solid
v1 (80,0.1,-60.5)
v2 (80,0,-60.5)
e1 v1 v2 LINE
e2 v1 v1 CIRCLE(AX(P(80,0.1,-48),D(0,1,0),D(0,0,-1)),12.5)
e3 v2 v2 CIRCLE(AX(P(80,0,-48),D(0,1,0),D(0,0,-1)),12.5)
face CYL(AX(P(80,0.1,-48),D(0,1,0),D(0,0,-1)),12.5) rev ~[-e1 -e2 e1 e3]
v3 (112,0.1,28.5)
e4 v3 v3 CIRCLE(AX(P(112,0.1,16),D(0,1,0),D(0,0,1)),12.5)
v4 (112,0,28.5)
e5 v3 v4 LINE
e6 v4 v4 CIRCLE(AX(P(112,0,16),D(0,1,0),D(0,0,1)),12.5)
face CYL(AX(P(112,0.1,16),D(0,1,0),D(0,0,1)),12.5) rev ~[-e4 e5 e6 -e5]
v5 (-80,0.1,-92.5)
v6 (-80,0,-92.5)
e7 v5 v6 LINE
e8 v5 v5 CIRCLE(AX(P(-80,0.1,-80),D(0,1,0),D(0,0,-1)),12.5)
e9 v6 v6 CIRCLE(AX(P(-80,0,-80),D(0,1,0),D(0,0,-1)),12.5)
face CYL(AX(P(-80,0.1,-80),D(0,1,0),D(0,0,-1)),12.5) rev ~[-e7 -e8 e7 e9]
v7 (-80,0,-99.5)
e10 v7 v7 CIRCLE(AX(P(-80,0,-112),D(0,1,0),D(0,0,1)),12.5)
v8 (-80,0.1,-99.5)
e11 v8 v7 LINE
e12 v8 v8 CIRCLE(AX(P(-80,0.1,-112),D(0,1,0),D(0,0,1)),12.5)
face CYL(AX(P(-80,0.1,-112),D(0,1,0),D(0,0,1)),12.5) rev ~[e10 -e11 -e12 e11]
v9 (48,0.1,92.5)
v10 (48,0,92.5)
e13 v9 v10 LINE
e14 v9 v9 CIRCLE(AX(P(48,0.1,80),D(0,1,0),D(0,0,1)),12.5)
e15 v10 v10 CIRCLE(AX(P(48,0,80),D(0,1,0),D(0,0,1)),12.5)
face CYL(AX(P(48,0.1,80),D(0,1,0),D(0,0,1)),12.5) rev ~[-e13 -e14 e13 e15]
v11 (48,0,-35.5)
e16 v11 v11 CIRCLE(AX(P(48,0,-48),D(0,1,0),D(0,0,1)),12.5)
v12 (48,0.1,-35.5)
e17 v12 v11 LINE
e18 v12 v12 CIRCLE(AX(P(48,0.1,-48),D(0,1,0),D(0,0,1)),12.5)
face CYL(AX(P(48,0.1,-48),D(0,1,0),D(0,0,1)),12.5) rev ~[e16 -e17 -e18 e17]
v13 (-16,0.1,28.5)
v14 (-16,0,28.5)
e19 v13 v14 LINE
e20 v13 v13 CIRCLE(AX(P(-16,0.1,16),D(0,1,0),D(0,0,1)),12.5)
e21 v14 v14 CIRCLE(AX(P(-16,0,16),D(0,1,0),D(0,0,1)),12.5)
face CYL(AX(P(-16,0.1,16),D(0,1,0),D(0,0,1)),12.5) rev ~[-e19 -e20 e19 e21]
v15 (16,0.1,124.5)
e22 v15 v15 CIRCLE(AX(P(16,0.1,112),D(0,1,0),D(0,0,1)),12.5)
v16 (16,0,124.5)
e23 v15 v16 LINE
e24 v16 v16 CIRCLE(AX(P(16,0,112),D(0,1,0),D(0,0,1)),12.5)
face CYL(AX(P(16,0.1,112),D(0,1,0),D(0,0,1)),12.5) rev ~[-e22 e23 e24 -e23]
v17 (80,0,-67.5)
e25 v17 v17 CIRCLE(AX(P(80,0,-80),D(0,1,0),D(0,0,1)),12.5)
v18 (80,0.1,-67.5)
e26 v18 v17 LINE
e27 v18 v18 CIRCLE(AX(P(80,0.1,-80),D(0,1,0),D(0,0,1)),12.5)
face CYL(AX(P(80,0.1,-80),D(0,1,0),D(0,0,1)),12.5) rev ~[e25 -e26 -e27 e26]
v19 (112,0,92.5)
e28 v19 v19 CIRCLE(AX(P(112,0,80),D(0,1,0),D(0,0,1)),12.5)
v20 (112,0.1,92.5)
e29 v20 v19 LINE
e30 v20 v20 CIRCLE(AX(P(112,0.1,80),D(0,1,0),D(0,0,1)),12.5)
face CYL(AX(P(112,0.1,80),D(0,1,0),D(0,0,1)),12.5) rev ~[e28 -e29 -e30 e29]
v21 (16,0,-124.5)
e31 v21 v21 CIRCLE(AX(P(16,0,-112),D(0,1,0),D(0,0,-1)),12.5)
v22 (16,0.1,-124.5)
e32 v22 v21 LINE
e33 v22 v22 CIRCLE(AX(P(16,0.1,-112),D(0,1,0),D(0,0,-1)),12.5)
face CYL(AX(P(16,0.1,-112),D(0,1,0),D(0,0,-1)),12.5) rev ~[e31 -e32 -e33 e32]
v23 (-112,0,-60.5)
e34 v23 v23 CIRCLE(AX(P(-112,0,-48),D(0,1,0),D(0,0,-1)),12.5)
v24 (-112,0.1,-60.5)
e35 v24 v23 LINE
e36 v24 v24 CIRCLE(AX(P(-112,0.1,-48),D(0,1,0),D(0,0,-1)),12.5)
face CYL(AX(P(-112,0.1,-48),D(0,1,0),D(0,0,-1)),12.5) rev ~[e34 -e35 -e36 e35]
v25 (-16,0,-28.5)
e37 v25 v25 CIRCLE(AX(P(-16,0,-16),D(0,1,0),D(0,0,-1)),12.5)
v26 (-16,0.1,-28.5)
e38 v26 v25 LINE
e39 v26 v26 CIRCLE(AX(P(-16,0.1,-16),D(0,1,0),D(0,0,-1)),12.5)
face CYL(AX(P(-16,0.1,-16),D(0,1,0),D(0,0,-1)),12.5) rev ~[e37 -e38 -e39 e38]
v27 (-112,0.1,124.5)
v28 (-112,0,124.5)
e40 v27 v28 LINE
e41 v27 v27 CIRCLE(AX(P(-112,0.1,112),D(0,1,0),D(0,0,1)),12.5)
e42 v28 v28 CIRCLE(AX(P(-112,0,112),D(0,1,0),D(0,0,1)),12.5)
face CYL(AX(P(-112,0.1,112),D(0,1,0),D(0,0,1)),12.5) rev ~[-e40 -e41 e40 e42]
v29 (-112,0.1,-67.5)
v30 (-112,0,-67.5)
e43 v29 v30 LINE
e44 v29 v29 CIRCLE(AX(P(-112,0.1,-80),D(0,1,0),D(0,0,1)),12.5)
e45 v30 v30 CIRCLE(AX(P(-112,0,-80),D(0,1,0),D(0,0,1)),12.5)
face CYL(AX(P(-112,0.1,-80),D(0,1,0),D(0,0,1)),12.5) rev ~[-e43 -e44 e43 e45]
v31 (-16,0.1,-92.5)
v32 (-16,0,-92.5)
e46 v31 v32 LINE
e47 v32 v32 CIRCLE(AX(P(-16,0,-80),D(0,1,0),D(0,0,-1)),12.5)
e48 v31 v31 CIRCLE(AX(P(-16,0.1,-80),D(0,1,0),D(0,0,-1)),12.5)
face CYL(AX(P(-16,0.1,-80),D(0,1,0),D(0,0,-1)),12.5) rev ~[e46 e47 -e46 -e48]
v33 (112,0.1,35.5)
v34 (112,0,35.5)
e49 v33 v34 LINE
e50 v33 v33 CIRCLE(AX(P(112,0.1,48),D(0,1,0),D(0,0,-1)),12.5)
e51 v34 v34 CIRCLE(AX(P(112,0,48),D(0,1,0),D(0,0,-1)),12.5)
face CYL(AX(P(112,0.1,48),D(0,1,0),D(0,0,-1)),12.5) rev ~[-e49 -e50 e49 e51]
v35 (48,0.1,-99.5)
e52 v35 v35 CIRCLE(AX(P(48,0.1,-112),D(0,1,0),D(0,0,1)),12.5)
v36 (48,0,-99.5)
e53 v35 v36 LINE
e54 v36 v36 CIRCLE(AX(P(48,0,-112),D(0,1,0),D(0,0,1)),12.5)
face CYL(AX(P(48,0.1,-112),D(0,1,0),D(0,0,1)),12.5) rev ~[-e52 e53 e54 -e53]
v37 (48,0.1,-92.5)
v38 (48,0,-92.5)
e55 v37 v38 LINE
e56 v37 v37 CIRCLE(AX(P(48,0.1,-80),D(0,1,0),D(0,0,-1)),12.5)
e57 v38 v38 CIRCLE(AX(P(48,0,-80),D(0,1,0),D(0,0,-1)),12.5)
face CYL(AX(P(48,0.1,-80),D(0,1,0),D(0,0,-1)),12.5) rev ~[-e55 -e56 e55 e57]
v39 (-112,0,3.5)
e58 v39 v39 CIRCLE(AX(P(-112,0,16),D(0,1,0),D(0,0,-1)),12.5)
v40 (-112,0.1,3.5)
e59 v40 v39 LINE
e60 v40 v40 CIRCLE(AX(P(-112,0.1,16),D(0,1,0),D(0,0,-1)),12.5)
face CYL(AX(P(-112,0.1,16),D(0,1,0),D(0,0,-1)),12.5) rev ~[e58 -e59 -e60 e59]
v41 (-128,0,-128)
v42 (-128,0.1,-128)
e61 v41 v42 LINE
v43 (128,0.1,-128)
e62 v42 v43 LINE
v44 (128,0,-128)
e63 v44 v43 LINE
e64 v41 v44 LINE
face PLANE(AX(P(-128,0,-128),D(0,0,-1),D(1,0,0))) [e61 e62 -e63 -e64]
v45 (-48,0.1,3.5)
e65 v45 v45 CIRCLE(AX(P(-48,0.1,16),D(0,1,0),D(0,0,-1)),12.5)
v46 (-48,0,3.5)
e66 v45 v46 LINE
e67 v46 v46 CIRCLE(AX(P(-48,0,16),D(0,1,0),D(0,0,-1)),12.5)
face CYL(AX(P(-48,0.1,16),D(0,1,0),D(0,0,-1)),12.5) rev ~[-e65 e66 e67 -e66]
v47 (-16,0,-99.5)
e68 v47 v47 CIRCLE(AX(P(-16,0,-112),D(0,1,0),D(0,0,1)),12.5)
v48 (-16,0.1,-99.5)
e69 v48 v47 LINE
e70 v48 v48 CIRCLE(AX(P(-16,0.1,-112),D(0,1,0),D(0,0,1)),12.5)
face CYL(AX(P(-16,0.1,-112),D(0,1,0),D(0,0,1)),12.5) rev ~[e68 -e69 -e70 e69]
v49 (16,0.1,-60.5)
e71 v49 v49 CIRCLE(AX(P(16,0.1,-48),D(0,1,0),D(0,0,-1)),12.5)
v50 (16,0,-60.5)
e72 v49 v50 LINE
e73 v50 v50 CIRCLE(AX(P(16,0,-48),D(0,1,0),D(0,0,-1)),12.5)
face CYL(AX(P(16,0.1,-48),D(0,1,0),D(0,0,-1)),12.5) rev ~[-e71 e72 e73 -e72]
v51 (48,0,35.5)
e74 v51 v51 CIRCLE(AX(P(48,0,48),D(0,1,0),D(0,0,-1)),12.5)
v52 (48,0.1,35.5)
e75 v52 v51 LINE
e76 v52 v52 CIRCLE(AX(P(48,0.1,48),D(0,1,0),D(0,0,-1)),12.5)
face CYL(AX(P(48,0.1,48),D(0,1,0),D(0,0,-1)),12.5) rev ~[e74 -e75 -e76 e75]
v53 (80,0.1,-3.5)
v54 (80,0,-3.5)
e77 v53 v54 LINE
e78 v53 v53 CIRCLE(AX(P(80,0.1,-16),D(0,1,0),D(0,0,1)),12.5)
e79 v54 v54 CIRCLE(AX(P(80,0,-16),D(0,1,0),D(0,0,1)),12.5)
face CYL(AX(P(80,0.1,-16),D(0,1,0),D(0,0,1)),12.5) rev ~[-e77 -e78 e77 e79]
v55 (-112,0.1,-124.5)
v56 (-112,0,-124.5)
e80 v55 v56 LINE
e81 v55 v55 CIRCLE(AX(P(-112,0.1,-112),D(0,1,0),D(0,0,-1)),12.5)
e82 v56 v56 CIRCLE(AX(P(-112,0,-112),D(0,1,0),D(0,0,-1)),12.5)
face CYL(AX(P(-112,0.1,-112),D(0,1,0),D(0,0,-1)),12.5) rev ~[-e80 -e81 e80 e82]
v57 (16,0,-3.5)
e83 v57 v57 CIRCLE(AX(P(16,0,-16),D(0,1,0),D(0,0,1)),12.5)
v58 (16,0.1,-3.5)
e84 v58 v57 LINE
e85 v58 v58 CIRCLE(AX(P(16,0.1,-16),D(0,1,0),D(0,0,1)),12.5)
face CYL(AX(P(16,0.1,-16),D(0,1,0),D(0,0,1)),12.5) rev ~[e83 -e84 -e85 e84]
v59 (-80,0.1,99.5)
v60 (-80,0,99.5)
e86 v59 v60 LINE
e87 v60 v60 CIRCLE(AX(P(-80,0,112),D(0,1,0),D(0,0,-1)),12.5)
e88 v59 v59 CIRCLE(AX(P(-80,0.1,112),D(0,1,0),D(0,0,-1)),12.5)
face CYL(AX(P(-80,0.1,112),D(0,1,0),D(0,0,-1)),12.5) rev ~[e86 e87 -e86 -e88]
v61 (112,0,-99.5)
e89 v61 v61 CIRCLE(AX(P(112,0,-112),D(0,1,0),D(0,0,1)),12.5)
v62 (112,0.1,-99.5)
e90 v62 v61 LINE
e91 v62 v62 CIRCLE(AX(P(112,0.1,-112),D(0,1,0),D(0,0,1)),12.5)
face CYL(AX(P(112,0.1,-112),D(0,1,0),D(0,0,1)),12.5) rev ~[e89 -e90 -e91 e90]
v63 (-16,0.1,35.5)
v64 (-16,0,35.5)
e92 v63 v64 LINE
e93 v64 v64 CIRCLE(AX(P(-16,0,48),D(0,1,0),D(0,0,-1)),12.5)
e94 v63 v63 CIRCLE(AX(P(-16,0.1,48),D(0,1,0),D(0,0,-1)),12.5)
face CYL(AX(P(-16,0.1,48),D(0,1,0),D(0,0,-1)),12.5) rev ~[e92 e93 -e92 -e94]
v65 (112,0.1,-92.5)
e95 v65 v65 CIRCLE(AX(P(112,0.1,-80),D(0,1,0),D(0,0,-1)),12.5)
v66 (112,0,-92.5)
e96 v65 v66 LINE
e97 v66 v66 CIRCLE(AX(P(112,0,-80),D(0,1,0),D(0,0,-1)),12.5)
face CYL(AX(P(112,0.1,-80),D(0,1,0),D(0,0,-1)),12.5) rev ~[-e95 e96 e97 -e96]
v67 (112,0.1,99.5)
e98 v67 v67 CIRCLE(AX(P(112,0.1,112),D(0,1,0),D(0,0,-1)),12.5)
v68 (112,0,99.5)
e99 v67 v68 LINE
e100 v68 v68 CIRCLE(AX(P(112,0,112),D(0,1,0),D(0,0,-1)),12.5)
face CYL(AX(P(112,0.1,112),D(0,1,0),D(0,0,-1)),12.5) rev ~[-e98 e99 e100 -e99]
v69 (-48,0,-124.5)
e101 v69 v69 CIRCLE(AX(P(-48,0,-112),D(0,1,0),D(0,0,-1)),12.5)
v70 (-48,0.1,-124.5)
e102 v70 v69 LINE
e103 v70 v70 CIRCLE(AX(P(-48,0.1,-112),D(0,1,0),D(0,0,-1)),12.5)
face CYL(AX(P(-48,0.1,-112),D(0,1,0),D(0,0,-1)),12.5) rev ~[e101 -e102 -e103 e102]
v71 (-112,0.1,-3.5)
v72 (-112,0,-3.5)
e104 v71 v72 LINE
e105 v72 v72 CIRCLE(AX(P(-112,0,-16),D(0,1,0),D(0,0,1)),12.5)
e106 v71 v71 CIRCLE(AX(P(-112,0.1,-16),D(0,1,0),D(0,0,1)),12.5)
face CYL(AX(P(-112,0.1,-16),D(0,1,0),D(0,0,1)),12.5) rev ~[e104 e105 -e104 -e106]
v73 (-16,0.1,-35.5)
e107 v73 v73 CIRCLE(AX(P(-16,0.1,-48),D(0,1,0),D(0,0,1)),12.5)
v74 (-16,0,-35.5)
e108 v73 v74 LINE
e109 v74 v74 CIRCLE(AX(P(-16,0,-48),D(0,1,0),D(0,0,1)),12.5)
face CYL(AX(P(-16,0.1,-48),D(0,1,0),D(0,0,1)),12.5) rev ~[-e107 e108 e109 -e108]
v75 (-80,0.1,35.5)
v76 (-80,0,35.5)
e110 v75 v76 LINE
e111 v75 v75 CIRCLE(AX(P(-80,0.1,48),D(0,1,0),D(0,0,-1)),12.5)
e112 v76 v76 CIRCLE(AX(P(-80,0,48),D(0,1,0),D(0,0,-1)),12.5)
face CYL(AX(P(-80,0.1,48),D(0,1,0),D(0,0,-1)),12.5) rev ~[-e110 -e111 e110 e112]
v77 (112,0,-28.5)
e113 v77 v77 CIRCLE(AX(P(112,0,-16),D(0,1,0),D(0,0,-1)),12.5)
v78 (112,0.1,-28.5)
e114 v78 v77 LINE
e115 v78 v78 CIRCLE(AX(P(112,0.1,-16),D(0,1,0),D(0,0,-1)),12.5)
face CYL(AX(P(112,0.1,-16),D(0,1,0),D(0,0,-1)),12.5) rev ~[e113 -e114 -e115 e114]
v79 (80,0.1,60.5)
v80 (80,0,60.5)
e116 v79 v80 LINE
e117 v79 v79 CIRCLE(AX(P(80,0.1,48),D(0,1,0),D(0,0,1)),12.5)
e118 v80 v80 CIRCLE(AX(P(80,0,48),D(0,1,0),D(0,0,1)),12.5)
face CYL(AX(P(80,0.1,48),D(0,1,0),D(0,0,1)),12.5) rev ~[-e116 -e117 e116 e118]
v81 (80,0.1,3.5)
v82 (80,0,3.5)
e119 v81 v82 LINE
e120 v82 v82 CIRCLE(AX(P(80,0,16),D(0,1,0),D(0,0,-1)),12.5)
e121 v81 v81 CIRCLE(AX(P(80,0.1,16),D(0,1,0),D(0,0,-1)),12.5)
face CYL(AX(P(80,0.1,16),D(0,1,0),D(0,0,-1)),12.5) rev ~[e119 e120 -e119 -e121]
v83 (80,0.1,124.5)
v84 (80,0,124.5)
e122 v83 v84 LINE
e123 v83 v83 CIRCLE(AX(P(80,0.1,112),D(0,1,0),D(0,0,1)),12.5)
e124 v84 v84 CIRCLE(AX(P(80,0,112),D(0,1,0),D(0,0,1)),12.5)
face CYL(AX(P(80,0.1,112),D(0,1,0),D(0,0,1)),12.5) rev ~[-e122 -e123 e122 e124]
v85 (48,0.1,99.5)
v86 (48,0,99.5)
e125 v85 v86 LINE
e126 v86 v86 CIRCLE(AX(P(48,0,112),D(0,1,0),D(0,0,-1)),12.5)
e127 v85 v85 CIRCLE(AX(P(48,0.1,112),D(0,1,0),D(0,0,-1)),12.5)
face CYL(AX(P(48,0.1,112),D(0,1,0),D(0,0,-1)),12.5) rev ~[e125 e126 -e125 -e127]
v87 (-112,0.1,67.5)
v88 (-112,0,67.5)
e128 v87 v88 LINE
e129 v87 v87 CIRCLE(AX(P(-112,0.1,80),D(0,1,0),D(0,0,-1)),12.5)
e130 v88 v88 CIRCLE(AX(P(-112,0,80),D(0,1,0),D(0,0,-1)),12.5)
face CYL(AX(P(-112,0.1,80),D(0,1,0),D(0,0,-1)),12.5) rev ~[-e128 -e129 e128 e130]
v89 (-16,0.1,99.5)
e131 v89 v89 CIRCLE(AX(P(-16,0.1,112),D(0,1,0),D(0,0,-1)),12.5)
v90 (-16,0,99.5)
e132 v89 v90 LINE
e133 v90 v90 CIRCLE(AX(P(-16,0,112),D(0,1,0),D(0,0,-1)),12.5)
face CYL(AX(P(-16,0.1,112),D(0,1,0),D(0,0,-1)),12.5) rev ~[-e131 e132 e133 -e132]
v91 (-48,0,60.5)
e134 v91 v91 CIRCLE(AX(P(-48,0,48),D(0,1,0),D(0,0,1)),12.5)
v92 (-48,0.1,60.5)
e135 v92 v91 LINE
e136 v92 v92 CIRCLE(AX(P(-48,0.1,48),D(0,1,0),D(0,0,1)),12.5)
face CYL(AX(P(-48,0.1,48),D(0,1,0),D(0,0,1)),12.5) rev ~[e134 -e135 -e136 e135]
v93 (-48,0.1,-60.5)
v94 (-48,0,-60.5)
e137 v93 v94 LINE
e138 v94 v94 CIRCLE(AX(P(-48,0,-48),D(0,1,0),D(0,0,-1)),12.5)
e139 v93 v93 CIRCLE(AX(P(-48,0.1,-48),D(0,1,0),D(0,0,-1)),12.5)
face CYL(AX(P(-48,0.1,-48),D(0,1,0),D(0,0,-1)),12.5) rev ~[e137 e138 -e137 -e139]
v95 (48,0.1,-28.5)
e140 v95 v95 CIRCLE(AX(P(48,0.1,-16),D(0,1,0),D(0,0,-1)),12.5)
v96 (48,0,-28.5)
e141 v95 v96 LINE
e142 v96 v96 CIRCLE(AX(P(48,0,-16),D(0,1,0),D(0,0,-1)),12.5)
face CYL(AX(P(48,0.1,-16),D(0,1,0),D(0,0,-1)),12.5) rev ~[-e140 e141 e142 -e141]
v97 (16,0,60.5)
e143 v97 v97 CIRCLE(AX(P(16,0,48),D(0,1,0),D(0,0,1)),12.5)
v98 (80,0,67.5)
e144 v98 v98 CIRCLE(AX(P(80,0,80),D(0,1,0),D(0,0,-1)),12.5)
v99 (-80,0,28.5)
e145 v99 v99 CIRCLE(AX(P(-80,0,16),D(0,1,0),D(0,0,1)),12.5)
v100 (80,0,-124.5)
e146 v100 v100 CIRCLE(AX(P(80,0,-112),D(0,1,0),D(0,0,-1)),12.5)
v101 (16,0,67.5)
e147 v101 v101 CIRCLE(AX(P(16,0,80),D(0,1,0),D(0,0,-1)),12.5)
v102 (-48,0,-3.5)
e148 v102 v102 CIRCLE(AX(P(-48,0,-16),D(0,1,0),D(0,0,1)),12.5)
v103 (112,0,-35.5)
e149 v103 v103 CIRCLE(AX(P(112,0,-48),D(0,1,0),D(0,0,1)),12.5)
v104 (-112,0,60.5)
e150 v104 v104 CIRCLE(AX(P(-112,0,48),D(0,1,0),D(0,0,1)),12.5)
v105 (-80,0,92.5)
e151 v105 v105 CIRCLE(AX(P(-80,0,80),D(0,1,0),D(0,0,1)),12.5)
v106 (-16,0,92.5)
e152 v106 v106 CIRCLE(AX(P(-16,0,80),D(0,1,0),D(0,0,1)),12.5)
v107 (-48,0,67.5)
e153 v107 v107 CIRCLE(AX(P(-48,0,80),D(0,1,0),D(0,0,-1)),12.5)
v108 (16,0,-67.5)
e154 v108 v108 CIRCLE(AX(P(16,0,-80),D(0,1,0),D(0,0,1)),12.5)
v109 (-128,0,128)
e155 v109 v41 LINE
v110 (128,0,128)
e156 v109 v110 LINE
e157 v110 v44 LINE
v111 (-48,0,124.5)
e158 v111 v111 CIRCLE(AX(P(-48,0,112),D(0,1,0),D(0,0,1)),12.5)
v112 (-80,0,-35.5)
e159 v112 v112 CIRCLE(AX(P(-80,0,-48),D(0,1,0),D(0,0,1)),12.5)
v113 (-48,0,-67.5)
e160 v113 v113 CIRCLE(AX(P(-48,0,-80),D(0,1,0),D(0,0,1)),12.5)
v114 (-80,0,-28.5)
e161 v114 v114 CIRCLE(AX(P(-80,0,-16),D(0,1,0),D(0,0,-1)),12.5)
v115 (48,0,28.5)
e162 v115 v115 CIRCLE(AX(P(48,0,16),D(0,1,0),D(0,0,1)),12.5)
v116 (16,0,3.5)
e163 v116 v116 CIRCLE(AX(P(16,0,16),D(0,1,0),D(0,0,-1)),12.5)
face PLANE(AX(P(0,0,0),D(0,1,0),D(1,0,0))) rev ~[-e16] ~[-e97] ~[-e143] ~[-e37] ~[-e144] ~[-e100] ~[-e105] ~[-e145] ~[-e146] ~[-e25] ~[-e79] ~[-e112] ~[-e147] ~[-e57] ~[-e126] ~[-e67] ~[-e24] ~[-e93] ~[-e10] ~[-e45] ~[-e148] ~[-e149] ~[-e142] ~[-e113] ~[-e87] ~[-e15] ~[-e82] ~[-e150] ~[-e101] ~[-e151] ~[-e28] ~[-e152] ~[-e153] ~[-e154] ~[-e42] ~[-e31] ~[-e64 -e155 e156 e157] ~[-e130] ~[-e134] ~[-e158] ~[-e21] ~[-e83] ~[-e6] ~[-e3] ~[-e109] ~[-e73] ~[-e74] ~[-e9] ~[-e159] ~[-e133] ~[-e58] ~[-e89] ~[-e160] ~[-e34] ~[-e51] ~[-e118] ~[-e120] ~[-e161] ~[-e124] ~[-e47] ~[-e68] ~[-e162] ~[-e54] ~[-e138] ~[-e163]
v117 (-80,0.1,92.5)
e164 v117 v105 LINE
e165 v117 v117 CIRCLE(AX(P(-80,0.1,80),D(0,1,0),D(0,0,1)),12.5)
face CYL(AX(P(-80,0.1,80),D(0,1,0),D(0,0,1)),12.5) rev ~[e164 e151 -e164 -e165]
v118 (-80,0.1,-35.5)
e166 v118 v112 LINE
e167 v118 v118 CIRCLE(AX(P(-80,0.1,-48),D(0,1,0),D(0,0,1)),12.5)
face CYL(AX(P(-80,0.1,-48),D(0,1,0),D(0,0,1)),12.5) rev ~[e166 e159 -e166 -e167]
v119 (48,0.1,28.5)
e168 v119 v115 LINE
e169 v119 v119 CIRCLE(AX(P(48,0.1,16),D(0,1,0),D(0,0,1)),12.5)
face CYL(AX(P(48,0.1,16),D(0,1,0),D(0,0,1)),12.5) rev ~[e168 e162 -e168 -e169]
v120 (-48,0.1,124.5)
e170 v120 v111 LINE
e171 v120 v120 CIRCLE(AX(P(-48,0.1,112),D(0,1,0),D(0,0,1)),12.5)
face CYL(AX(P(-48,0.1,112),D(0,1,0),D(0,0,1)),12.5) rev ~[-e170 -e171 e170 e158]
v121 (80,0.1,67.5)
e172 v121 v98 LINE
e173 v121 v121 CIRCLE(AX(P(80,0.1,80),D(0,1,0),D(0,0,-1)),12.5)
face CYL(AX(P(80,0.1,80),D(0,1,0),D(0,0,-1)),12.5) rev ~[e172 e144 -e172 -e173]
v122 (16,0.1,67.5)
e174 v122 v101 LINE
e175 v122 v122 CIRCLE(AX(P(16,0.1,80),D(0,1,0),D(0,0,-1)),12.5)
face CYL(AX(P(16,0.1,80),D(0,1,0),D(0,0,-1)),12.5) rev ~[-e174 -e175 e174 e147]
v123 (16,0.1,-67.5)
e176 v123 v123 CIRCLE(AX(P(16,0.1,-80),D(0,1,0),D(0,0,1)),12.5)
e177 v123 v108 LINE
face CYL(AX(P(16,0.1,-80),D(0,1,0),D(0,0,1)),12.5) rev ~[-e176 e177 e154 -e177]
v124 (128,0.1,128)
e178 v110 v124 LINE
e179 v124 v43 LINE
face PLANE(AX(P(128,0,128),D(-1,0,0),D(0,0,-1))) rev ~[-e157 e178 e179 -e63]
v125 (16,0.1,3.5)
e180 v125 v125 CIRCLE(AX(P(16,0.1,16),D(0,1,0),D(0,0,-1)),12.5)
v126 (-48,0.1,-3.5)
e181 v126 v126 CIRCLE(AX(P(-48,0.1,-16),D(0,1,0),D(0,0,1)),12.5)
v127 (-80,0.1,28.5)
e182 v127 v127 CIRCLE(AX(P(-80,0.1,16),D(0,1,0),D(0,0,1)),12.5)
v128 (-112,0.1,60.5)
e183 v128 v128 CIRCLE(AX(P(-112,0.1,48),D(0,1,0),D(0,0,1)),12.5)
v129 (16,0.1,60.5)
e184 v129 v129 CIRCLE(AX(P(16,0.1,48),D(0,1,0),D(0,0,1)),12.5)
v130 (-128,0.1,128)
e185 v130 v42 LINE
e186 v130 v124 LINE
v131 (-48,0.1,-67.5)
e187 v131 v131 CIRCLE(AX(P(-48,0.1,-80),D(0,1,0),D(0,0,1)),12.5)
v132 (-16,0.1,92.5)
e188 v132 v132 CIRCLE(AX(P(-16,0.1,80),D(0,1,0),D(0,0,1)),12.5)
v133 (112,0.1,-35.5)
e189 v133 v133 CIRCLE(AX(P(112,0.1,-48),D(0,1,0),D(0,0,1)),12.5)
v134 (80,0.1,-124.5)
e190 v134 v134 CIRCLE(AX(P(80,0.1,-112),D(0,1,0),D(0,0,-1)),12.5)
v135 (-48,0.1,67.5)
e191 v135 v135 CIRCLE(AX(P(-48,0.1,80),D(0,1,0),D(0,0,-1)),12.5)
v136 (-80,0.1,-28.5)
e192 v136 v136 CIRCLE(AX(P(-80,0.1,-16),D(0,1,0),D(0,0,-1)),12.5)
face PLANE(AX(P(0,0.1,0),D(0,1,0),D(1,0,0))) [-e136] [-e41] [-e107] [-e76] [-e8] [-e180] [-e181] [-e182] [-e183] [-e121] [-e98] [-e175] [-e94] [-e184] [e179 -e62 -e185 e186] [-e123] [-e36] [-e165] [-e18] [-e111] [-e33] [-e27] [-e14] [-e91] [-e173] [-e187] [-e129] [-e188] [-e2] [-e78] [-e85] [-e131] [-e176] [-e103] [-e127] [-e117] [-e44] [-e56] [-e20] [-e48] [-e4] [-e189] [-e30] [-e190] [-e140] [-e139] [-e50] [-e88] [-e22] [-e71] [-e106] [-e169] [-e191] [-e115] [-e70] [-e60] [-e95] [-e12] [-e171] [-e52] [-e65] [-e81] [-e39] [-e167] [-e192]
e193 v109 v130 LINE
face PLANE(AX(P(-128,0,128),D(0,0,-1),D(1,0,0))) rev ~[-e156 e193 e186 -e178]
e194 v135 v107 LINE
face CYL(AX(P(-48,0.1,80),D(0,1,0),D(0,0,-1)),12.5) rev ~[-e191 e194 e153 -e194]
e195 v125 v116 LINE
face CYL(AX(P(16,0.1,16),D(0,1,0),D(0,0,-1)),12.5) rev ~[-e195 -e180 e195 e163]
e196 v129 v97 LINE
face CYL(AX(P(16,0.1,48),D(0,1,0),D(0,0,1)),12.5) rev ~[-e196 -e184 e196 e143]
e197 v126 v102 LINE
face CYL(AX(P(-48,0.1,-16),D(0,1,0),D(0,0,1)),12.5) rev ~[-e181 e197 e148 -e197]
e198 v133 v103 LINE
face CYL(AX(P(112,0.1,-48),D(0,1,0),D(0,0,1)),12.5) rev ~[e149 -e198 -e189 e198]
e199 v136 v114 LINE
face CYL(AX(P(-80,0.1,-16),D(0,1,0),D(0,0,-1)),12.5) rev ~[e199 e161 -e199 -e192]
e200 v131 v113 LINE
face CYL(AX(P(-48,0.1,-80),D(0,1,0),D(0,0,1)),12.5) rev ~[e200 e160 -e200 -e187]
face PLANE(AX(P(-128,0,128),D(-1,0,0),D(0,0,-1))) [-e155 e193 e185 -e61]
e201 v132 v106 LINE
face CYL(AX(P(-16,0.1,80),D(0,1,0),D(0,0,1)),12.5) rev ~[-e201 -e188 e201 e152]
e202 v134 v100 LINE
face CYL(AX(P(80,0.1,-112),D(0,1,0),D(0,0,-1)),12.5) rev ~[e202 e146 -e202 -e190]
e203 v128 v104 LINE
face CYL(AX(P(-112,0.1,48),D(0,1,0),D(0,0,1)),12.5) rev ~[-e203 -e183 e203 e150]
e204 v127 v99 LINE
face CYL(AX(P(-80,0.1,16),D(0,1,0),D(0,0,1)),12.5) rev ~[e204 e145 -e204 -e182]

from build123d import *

# Parameters (mm, degrees)
ESBO_O1_W                = 256
ESBO_O1_H                = 256
RESSALTO_EXTRUS_O1_DEPTH = 0.1
ESBO_O2_R                = 12.5
CORTE_EXTRUS_O1_DEPTH    = 182.019363605


with BuildPart() as part:
    # Esboço1 → Ressalto-extrusão1 (new body)
    with BuildSketch(Plane(origin=(0, 0, 0), x_dir=(1, 0, 0), z_dir=(0, 1, 0))):
        Rectangle(ESBO_O1_W, ESBO_O1_H)
    extrude(amount=RESSALTO_EXTRUS_O1_DEPTH)

    # Esboço2 → Corte-extrusão1 (cut, through all)
    with BuildSketch(Plane(origin=(0, 0.1, 0), x_dir=(1, 0, 0), z_dir=(0, 1, 0))):
        with Locations(Location((-112, -112, 0), (0, 0, 270))):
            Circle(ESBO_O2_R)
        with Locations(Location((-80, -112, 0), (0, 0, 90))):
            Circle(ESBO_O2_R)
        with Locations(Location((-48, -112, 0), (0, 0, 270))):
            Circle(ESBO_O2_R)
        with Locations(Location((-16, -112, 0), (0, 0, 90))):
            Circle(ESBO_O2_R)
        with Locations(Location((16, -112, 0), (0, 0, 270))):
            Circle(ESBO_O2_R)
        with Locations(Location((48, -112, 0), (0, 0, 90))):
            Circle(ESBO_O2_R)
        with Locations(Location((80, -112, 0), (0, 0, 270))):
            Circle(ESBO_O2_R)
        with Locations(Location((112, -112, 0), (0, 0, 90))):
            Circle(ESBO_O2_R)
        with Locations(Location((112, -80, 0), (0, 0, 270))):
            Circle(ESBO_O2_R)
        with Locations(Location((80, -80, 0), (0, 0, 90))):
            Circle(ESBO_O2_R)
        with Locations(Location((48, -80, 0), (0, 0, 270))):
            Circle(ESBO_O2_R)
        with Locations(Location((16, -80, 0), (0, 0, 90))):
            Circle(ESBO_O2_R)
        with Locations(Location((-16, -80, 0), (0, 0, 270))):
            Circle(ESBO_O2_R)
        with Locations(Location((-48, -80, 0), (0, 0, 90))):
            Circle(ESBO_O2_R)
        with Locations(Location((-80, -80, 0), (0, 0, 270))):
            Circle(ESBO_O2_R)
        with Locations(Location((-112, -80, 0), (0, 0, 90))):
            Circle(ESBO_O2_R)
        with Locations(Location((112, -16, 0), (0, 0, 270))):
            Circle(ESBO_O2_R)
        with Locations(Location((112, -48, 0), (0, 0, 90))):
            Circle(ESBO_O2_R)
        with Locations(Location((80, -16, 0), (0, 0, 90))):
            Circle(ESBO_O2_R)
        with Locations(Location((80, -48, 0), (0, 0, 270))):
            Circle(ESBO_O2_R)
        with Locations(Location((48, -16, 0), (0, 0, 270))):
            Circle(ESBO_O2_R)
        with Locations(Location((48, -48, 0), (0, 0, 90))):
            Circle(ESBO_O2_R)
        with Locations(Location((16, -16, 0), (0, 0, 90))):
            Circle(ESBO_O2_R)
        with Locations(Location((16, -48, 0), (0, 0, 270))):
            Circle(ESBO_O2_R)
        with Locations(Location((-16, -16, 0), (0, 0, 270))):
            Circle(ESBO_O2_R)
        with Locations(Location((-16, -48, 0), (0, 0, 90))):
            Circle(ESBO_O2_R)
        with Locations(Location((-48, -16, 0), (0, 0, 90))):
            Circle(ESBO_O2_R)
        with Locations(Location((-48, -48, 0), (0, 0, 270))):
            Circle(ESBO_O2_R)
        with Locations(Location((-80, -16, 0), (0, 0, 270))):
            Circle(ESBO_O2_R)
        with Locations(Location((-80, -48, 0), (0, 0, 90))):
            Circle(ESBO_O2_R)
        with Locations(Location((-112, -48, 0), (0, 0, 270))):
            Circle(ESBO_O2_R)
        with Locations(Location((-112, -16, 0), (0, 0, 90))):
            Circle(ESBO_O2_R)
        with Locations(Location((-112, 16, 0), (0, 0, 270))):
            Circle(ESBO_O2_R)
        with Locations(Location((-80, 16, 0), (0, 0, 90))):
            Circle(ESBO_O2_R)
        with Locations(Location((-48, 16, 0), (0, 0, 270))):
            Circle(ESBO_O2_R)
        with Locations(Location((-16, 16, 0), (0, 0, 90))):
            Circle(ESBO_O2_R)
        with Locations(Location((16, 16, 0), (0, 0, 270))):
            Circle(ESBO_O2_R)
        with Locations(Location((48, 16, 0), (0, 0, 90))):
            Circle(ESBO_O2_R)
        with Locations(Location((80, 16, 0), (0, 0, 270))):
            Circle(ESBO_O2_R)
        with Locations(Location((112, 16, 0), (0, 0, 90))):
            Circle(ESBO_O2_R)
        with Locations(Location((112, 48, 0), (0, 0, 270))):
            Circle(ESBO_O2_R)
        with Locations(Location((80, 48, 0), (0, 0, 90))):
            Circle(ESBO_O2_R)
        with Locations(Location((48, 48, 0), (0, 0, 270))):
            Circle(ESBO_O2_R)
        with Locations(Location((16, 48, 0), (0, 0, 90))):
            Circle(ESBO_O2_R)
        with Locations(Location((-16, 48, 0), (0, 0, 270))):
            Circle(ESBO_O2_R)
        with Locations(Location((-48, 48, 0), (0, 0, 90))):
            Circle(ESBO_O2_R)
        with Locations(Location((-80, 48, 0), (0, 0, 270))):
            Circle(ESBO_O2_R)
        with Locations(Location((-112, 48, 0), (0, 0, 90))):
            Circle(ESBO_O2_R)
        with Locations(Location((-112, 80, 0), (0, 0, 270))):
            Circle(ESBO_O2_R)
        with Locations(Location((-80, 80, 0), (0, 0, 90))):
            Circle(ESBO_O2_R)
        with Locations(Location((-48, 80, 0), (0, 0, 270))):
            Circle(ESBO_O2_R)
        with Locations(Location((-16, 80, 0), (0, 0, 90))):
            Circle(ESBO_O2_R)
        with Locations(Location((16, 80, 0), (0, 0, 270))):
            Circle(ESBO_O2_R)
        with Locations(Location((48, 80, 0), (0, 0, 90))):
            Circle(ESBO_O2_R)
        with Locations(Location((80, 80, 0), (0, 0, 270))):
            Circle(ESBO_O2_R)
        with Locations(Location((112, 80, 0), (0, 0, 90))):
            Circle(ESBO_O2_R)
        with Locations(Location((112, 112, 0), (0, 0, 270))):
            Circle(ESBO_O2_R)
        with Locations(Location((80, 112, 0), (0, 0, 90))):
            Circle(ESBO_O2_R)
        with Locations(Location((48, 112, 0), (0, 0, 270))):
            Circle(ESBO_O2_R)
        with Locations(Location((16, 112, 0), (0, 0, 90))):
            Circle(ESBO_O2_R)
        with Locations(Location((-16, 112, 0), (0, 0, 270))):
            Circle(ESBO_O2_R)
        with Locations(Location((-48, 112, 0), (0, 0, 90))):
            Circle(ESBO_O2_R)
        with Locations(Location((-80, 112, 0), (0, 0, 270))):
            Circle(ESBO_O2_R)
        with Locations(Location((-112, 112, 0), (0, 0, 90))):
            Circle(ESBO_O2_R)
    extrude(amount=-CORTE_EXTRUS_O1_DEPTH, mode=Mode.SUBTRACT)


solid = part.part
